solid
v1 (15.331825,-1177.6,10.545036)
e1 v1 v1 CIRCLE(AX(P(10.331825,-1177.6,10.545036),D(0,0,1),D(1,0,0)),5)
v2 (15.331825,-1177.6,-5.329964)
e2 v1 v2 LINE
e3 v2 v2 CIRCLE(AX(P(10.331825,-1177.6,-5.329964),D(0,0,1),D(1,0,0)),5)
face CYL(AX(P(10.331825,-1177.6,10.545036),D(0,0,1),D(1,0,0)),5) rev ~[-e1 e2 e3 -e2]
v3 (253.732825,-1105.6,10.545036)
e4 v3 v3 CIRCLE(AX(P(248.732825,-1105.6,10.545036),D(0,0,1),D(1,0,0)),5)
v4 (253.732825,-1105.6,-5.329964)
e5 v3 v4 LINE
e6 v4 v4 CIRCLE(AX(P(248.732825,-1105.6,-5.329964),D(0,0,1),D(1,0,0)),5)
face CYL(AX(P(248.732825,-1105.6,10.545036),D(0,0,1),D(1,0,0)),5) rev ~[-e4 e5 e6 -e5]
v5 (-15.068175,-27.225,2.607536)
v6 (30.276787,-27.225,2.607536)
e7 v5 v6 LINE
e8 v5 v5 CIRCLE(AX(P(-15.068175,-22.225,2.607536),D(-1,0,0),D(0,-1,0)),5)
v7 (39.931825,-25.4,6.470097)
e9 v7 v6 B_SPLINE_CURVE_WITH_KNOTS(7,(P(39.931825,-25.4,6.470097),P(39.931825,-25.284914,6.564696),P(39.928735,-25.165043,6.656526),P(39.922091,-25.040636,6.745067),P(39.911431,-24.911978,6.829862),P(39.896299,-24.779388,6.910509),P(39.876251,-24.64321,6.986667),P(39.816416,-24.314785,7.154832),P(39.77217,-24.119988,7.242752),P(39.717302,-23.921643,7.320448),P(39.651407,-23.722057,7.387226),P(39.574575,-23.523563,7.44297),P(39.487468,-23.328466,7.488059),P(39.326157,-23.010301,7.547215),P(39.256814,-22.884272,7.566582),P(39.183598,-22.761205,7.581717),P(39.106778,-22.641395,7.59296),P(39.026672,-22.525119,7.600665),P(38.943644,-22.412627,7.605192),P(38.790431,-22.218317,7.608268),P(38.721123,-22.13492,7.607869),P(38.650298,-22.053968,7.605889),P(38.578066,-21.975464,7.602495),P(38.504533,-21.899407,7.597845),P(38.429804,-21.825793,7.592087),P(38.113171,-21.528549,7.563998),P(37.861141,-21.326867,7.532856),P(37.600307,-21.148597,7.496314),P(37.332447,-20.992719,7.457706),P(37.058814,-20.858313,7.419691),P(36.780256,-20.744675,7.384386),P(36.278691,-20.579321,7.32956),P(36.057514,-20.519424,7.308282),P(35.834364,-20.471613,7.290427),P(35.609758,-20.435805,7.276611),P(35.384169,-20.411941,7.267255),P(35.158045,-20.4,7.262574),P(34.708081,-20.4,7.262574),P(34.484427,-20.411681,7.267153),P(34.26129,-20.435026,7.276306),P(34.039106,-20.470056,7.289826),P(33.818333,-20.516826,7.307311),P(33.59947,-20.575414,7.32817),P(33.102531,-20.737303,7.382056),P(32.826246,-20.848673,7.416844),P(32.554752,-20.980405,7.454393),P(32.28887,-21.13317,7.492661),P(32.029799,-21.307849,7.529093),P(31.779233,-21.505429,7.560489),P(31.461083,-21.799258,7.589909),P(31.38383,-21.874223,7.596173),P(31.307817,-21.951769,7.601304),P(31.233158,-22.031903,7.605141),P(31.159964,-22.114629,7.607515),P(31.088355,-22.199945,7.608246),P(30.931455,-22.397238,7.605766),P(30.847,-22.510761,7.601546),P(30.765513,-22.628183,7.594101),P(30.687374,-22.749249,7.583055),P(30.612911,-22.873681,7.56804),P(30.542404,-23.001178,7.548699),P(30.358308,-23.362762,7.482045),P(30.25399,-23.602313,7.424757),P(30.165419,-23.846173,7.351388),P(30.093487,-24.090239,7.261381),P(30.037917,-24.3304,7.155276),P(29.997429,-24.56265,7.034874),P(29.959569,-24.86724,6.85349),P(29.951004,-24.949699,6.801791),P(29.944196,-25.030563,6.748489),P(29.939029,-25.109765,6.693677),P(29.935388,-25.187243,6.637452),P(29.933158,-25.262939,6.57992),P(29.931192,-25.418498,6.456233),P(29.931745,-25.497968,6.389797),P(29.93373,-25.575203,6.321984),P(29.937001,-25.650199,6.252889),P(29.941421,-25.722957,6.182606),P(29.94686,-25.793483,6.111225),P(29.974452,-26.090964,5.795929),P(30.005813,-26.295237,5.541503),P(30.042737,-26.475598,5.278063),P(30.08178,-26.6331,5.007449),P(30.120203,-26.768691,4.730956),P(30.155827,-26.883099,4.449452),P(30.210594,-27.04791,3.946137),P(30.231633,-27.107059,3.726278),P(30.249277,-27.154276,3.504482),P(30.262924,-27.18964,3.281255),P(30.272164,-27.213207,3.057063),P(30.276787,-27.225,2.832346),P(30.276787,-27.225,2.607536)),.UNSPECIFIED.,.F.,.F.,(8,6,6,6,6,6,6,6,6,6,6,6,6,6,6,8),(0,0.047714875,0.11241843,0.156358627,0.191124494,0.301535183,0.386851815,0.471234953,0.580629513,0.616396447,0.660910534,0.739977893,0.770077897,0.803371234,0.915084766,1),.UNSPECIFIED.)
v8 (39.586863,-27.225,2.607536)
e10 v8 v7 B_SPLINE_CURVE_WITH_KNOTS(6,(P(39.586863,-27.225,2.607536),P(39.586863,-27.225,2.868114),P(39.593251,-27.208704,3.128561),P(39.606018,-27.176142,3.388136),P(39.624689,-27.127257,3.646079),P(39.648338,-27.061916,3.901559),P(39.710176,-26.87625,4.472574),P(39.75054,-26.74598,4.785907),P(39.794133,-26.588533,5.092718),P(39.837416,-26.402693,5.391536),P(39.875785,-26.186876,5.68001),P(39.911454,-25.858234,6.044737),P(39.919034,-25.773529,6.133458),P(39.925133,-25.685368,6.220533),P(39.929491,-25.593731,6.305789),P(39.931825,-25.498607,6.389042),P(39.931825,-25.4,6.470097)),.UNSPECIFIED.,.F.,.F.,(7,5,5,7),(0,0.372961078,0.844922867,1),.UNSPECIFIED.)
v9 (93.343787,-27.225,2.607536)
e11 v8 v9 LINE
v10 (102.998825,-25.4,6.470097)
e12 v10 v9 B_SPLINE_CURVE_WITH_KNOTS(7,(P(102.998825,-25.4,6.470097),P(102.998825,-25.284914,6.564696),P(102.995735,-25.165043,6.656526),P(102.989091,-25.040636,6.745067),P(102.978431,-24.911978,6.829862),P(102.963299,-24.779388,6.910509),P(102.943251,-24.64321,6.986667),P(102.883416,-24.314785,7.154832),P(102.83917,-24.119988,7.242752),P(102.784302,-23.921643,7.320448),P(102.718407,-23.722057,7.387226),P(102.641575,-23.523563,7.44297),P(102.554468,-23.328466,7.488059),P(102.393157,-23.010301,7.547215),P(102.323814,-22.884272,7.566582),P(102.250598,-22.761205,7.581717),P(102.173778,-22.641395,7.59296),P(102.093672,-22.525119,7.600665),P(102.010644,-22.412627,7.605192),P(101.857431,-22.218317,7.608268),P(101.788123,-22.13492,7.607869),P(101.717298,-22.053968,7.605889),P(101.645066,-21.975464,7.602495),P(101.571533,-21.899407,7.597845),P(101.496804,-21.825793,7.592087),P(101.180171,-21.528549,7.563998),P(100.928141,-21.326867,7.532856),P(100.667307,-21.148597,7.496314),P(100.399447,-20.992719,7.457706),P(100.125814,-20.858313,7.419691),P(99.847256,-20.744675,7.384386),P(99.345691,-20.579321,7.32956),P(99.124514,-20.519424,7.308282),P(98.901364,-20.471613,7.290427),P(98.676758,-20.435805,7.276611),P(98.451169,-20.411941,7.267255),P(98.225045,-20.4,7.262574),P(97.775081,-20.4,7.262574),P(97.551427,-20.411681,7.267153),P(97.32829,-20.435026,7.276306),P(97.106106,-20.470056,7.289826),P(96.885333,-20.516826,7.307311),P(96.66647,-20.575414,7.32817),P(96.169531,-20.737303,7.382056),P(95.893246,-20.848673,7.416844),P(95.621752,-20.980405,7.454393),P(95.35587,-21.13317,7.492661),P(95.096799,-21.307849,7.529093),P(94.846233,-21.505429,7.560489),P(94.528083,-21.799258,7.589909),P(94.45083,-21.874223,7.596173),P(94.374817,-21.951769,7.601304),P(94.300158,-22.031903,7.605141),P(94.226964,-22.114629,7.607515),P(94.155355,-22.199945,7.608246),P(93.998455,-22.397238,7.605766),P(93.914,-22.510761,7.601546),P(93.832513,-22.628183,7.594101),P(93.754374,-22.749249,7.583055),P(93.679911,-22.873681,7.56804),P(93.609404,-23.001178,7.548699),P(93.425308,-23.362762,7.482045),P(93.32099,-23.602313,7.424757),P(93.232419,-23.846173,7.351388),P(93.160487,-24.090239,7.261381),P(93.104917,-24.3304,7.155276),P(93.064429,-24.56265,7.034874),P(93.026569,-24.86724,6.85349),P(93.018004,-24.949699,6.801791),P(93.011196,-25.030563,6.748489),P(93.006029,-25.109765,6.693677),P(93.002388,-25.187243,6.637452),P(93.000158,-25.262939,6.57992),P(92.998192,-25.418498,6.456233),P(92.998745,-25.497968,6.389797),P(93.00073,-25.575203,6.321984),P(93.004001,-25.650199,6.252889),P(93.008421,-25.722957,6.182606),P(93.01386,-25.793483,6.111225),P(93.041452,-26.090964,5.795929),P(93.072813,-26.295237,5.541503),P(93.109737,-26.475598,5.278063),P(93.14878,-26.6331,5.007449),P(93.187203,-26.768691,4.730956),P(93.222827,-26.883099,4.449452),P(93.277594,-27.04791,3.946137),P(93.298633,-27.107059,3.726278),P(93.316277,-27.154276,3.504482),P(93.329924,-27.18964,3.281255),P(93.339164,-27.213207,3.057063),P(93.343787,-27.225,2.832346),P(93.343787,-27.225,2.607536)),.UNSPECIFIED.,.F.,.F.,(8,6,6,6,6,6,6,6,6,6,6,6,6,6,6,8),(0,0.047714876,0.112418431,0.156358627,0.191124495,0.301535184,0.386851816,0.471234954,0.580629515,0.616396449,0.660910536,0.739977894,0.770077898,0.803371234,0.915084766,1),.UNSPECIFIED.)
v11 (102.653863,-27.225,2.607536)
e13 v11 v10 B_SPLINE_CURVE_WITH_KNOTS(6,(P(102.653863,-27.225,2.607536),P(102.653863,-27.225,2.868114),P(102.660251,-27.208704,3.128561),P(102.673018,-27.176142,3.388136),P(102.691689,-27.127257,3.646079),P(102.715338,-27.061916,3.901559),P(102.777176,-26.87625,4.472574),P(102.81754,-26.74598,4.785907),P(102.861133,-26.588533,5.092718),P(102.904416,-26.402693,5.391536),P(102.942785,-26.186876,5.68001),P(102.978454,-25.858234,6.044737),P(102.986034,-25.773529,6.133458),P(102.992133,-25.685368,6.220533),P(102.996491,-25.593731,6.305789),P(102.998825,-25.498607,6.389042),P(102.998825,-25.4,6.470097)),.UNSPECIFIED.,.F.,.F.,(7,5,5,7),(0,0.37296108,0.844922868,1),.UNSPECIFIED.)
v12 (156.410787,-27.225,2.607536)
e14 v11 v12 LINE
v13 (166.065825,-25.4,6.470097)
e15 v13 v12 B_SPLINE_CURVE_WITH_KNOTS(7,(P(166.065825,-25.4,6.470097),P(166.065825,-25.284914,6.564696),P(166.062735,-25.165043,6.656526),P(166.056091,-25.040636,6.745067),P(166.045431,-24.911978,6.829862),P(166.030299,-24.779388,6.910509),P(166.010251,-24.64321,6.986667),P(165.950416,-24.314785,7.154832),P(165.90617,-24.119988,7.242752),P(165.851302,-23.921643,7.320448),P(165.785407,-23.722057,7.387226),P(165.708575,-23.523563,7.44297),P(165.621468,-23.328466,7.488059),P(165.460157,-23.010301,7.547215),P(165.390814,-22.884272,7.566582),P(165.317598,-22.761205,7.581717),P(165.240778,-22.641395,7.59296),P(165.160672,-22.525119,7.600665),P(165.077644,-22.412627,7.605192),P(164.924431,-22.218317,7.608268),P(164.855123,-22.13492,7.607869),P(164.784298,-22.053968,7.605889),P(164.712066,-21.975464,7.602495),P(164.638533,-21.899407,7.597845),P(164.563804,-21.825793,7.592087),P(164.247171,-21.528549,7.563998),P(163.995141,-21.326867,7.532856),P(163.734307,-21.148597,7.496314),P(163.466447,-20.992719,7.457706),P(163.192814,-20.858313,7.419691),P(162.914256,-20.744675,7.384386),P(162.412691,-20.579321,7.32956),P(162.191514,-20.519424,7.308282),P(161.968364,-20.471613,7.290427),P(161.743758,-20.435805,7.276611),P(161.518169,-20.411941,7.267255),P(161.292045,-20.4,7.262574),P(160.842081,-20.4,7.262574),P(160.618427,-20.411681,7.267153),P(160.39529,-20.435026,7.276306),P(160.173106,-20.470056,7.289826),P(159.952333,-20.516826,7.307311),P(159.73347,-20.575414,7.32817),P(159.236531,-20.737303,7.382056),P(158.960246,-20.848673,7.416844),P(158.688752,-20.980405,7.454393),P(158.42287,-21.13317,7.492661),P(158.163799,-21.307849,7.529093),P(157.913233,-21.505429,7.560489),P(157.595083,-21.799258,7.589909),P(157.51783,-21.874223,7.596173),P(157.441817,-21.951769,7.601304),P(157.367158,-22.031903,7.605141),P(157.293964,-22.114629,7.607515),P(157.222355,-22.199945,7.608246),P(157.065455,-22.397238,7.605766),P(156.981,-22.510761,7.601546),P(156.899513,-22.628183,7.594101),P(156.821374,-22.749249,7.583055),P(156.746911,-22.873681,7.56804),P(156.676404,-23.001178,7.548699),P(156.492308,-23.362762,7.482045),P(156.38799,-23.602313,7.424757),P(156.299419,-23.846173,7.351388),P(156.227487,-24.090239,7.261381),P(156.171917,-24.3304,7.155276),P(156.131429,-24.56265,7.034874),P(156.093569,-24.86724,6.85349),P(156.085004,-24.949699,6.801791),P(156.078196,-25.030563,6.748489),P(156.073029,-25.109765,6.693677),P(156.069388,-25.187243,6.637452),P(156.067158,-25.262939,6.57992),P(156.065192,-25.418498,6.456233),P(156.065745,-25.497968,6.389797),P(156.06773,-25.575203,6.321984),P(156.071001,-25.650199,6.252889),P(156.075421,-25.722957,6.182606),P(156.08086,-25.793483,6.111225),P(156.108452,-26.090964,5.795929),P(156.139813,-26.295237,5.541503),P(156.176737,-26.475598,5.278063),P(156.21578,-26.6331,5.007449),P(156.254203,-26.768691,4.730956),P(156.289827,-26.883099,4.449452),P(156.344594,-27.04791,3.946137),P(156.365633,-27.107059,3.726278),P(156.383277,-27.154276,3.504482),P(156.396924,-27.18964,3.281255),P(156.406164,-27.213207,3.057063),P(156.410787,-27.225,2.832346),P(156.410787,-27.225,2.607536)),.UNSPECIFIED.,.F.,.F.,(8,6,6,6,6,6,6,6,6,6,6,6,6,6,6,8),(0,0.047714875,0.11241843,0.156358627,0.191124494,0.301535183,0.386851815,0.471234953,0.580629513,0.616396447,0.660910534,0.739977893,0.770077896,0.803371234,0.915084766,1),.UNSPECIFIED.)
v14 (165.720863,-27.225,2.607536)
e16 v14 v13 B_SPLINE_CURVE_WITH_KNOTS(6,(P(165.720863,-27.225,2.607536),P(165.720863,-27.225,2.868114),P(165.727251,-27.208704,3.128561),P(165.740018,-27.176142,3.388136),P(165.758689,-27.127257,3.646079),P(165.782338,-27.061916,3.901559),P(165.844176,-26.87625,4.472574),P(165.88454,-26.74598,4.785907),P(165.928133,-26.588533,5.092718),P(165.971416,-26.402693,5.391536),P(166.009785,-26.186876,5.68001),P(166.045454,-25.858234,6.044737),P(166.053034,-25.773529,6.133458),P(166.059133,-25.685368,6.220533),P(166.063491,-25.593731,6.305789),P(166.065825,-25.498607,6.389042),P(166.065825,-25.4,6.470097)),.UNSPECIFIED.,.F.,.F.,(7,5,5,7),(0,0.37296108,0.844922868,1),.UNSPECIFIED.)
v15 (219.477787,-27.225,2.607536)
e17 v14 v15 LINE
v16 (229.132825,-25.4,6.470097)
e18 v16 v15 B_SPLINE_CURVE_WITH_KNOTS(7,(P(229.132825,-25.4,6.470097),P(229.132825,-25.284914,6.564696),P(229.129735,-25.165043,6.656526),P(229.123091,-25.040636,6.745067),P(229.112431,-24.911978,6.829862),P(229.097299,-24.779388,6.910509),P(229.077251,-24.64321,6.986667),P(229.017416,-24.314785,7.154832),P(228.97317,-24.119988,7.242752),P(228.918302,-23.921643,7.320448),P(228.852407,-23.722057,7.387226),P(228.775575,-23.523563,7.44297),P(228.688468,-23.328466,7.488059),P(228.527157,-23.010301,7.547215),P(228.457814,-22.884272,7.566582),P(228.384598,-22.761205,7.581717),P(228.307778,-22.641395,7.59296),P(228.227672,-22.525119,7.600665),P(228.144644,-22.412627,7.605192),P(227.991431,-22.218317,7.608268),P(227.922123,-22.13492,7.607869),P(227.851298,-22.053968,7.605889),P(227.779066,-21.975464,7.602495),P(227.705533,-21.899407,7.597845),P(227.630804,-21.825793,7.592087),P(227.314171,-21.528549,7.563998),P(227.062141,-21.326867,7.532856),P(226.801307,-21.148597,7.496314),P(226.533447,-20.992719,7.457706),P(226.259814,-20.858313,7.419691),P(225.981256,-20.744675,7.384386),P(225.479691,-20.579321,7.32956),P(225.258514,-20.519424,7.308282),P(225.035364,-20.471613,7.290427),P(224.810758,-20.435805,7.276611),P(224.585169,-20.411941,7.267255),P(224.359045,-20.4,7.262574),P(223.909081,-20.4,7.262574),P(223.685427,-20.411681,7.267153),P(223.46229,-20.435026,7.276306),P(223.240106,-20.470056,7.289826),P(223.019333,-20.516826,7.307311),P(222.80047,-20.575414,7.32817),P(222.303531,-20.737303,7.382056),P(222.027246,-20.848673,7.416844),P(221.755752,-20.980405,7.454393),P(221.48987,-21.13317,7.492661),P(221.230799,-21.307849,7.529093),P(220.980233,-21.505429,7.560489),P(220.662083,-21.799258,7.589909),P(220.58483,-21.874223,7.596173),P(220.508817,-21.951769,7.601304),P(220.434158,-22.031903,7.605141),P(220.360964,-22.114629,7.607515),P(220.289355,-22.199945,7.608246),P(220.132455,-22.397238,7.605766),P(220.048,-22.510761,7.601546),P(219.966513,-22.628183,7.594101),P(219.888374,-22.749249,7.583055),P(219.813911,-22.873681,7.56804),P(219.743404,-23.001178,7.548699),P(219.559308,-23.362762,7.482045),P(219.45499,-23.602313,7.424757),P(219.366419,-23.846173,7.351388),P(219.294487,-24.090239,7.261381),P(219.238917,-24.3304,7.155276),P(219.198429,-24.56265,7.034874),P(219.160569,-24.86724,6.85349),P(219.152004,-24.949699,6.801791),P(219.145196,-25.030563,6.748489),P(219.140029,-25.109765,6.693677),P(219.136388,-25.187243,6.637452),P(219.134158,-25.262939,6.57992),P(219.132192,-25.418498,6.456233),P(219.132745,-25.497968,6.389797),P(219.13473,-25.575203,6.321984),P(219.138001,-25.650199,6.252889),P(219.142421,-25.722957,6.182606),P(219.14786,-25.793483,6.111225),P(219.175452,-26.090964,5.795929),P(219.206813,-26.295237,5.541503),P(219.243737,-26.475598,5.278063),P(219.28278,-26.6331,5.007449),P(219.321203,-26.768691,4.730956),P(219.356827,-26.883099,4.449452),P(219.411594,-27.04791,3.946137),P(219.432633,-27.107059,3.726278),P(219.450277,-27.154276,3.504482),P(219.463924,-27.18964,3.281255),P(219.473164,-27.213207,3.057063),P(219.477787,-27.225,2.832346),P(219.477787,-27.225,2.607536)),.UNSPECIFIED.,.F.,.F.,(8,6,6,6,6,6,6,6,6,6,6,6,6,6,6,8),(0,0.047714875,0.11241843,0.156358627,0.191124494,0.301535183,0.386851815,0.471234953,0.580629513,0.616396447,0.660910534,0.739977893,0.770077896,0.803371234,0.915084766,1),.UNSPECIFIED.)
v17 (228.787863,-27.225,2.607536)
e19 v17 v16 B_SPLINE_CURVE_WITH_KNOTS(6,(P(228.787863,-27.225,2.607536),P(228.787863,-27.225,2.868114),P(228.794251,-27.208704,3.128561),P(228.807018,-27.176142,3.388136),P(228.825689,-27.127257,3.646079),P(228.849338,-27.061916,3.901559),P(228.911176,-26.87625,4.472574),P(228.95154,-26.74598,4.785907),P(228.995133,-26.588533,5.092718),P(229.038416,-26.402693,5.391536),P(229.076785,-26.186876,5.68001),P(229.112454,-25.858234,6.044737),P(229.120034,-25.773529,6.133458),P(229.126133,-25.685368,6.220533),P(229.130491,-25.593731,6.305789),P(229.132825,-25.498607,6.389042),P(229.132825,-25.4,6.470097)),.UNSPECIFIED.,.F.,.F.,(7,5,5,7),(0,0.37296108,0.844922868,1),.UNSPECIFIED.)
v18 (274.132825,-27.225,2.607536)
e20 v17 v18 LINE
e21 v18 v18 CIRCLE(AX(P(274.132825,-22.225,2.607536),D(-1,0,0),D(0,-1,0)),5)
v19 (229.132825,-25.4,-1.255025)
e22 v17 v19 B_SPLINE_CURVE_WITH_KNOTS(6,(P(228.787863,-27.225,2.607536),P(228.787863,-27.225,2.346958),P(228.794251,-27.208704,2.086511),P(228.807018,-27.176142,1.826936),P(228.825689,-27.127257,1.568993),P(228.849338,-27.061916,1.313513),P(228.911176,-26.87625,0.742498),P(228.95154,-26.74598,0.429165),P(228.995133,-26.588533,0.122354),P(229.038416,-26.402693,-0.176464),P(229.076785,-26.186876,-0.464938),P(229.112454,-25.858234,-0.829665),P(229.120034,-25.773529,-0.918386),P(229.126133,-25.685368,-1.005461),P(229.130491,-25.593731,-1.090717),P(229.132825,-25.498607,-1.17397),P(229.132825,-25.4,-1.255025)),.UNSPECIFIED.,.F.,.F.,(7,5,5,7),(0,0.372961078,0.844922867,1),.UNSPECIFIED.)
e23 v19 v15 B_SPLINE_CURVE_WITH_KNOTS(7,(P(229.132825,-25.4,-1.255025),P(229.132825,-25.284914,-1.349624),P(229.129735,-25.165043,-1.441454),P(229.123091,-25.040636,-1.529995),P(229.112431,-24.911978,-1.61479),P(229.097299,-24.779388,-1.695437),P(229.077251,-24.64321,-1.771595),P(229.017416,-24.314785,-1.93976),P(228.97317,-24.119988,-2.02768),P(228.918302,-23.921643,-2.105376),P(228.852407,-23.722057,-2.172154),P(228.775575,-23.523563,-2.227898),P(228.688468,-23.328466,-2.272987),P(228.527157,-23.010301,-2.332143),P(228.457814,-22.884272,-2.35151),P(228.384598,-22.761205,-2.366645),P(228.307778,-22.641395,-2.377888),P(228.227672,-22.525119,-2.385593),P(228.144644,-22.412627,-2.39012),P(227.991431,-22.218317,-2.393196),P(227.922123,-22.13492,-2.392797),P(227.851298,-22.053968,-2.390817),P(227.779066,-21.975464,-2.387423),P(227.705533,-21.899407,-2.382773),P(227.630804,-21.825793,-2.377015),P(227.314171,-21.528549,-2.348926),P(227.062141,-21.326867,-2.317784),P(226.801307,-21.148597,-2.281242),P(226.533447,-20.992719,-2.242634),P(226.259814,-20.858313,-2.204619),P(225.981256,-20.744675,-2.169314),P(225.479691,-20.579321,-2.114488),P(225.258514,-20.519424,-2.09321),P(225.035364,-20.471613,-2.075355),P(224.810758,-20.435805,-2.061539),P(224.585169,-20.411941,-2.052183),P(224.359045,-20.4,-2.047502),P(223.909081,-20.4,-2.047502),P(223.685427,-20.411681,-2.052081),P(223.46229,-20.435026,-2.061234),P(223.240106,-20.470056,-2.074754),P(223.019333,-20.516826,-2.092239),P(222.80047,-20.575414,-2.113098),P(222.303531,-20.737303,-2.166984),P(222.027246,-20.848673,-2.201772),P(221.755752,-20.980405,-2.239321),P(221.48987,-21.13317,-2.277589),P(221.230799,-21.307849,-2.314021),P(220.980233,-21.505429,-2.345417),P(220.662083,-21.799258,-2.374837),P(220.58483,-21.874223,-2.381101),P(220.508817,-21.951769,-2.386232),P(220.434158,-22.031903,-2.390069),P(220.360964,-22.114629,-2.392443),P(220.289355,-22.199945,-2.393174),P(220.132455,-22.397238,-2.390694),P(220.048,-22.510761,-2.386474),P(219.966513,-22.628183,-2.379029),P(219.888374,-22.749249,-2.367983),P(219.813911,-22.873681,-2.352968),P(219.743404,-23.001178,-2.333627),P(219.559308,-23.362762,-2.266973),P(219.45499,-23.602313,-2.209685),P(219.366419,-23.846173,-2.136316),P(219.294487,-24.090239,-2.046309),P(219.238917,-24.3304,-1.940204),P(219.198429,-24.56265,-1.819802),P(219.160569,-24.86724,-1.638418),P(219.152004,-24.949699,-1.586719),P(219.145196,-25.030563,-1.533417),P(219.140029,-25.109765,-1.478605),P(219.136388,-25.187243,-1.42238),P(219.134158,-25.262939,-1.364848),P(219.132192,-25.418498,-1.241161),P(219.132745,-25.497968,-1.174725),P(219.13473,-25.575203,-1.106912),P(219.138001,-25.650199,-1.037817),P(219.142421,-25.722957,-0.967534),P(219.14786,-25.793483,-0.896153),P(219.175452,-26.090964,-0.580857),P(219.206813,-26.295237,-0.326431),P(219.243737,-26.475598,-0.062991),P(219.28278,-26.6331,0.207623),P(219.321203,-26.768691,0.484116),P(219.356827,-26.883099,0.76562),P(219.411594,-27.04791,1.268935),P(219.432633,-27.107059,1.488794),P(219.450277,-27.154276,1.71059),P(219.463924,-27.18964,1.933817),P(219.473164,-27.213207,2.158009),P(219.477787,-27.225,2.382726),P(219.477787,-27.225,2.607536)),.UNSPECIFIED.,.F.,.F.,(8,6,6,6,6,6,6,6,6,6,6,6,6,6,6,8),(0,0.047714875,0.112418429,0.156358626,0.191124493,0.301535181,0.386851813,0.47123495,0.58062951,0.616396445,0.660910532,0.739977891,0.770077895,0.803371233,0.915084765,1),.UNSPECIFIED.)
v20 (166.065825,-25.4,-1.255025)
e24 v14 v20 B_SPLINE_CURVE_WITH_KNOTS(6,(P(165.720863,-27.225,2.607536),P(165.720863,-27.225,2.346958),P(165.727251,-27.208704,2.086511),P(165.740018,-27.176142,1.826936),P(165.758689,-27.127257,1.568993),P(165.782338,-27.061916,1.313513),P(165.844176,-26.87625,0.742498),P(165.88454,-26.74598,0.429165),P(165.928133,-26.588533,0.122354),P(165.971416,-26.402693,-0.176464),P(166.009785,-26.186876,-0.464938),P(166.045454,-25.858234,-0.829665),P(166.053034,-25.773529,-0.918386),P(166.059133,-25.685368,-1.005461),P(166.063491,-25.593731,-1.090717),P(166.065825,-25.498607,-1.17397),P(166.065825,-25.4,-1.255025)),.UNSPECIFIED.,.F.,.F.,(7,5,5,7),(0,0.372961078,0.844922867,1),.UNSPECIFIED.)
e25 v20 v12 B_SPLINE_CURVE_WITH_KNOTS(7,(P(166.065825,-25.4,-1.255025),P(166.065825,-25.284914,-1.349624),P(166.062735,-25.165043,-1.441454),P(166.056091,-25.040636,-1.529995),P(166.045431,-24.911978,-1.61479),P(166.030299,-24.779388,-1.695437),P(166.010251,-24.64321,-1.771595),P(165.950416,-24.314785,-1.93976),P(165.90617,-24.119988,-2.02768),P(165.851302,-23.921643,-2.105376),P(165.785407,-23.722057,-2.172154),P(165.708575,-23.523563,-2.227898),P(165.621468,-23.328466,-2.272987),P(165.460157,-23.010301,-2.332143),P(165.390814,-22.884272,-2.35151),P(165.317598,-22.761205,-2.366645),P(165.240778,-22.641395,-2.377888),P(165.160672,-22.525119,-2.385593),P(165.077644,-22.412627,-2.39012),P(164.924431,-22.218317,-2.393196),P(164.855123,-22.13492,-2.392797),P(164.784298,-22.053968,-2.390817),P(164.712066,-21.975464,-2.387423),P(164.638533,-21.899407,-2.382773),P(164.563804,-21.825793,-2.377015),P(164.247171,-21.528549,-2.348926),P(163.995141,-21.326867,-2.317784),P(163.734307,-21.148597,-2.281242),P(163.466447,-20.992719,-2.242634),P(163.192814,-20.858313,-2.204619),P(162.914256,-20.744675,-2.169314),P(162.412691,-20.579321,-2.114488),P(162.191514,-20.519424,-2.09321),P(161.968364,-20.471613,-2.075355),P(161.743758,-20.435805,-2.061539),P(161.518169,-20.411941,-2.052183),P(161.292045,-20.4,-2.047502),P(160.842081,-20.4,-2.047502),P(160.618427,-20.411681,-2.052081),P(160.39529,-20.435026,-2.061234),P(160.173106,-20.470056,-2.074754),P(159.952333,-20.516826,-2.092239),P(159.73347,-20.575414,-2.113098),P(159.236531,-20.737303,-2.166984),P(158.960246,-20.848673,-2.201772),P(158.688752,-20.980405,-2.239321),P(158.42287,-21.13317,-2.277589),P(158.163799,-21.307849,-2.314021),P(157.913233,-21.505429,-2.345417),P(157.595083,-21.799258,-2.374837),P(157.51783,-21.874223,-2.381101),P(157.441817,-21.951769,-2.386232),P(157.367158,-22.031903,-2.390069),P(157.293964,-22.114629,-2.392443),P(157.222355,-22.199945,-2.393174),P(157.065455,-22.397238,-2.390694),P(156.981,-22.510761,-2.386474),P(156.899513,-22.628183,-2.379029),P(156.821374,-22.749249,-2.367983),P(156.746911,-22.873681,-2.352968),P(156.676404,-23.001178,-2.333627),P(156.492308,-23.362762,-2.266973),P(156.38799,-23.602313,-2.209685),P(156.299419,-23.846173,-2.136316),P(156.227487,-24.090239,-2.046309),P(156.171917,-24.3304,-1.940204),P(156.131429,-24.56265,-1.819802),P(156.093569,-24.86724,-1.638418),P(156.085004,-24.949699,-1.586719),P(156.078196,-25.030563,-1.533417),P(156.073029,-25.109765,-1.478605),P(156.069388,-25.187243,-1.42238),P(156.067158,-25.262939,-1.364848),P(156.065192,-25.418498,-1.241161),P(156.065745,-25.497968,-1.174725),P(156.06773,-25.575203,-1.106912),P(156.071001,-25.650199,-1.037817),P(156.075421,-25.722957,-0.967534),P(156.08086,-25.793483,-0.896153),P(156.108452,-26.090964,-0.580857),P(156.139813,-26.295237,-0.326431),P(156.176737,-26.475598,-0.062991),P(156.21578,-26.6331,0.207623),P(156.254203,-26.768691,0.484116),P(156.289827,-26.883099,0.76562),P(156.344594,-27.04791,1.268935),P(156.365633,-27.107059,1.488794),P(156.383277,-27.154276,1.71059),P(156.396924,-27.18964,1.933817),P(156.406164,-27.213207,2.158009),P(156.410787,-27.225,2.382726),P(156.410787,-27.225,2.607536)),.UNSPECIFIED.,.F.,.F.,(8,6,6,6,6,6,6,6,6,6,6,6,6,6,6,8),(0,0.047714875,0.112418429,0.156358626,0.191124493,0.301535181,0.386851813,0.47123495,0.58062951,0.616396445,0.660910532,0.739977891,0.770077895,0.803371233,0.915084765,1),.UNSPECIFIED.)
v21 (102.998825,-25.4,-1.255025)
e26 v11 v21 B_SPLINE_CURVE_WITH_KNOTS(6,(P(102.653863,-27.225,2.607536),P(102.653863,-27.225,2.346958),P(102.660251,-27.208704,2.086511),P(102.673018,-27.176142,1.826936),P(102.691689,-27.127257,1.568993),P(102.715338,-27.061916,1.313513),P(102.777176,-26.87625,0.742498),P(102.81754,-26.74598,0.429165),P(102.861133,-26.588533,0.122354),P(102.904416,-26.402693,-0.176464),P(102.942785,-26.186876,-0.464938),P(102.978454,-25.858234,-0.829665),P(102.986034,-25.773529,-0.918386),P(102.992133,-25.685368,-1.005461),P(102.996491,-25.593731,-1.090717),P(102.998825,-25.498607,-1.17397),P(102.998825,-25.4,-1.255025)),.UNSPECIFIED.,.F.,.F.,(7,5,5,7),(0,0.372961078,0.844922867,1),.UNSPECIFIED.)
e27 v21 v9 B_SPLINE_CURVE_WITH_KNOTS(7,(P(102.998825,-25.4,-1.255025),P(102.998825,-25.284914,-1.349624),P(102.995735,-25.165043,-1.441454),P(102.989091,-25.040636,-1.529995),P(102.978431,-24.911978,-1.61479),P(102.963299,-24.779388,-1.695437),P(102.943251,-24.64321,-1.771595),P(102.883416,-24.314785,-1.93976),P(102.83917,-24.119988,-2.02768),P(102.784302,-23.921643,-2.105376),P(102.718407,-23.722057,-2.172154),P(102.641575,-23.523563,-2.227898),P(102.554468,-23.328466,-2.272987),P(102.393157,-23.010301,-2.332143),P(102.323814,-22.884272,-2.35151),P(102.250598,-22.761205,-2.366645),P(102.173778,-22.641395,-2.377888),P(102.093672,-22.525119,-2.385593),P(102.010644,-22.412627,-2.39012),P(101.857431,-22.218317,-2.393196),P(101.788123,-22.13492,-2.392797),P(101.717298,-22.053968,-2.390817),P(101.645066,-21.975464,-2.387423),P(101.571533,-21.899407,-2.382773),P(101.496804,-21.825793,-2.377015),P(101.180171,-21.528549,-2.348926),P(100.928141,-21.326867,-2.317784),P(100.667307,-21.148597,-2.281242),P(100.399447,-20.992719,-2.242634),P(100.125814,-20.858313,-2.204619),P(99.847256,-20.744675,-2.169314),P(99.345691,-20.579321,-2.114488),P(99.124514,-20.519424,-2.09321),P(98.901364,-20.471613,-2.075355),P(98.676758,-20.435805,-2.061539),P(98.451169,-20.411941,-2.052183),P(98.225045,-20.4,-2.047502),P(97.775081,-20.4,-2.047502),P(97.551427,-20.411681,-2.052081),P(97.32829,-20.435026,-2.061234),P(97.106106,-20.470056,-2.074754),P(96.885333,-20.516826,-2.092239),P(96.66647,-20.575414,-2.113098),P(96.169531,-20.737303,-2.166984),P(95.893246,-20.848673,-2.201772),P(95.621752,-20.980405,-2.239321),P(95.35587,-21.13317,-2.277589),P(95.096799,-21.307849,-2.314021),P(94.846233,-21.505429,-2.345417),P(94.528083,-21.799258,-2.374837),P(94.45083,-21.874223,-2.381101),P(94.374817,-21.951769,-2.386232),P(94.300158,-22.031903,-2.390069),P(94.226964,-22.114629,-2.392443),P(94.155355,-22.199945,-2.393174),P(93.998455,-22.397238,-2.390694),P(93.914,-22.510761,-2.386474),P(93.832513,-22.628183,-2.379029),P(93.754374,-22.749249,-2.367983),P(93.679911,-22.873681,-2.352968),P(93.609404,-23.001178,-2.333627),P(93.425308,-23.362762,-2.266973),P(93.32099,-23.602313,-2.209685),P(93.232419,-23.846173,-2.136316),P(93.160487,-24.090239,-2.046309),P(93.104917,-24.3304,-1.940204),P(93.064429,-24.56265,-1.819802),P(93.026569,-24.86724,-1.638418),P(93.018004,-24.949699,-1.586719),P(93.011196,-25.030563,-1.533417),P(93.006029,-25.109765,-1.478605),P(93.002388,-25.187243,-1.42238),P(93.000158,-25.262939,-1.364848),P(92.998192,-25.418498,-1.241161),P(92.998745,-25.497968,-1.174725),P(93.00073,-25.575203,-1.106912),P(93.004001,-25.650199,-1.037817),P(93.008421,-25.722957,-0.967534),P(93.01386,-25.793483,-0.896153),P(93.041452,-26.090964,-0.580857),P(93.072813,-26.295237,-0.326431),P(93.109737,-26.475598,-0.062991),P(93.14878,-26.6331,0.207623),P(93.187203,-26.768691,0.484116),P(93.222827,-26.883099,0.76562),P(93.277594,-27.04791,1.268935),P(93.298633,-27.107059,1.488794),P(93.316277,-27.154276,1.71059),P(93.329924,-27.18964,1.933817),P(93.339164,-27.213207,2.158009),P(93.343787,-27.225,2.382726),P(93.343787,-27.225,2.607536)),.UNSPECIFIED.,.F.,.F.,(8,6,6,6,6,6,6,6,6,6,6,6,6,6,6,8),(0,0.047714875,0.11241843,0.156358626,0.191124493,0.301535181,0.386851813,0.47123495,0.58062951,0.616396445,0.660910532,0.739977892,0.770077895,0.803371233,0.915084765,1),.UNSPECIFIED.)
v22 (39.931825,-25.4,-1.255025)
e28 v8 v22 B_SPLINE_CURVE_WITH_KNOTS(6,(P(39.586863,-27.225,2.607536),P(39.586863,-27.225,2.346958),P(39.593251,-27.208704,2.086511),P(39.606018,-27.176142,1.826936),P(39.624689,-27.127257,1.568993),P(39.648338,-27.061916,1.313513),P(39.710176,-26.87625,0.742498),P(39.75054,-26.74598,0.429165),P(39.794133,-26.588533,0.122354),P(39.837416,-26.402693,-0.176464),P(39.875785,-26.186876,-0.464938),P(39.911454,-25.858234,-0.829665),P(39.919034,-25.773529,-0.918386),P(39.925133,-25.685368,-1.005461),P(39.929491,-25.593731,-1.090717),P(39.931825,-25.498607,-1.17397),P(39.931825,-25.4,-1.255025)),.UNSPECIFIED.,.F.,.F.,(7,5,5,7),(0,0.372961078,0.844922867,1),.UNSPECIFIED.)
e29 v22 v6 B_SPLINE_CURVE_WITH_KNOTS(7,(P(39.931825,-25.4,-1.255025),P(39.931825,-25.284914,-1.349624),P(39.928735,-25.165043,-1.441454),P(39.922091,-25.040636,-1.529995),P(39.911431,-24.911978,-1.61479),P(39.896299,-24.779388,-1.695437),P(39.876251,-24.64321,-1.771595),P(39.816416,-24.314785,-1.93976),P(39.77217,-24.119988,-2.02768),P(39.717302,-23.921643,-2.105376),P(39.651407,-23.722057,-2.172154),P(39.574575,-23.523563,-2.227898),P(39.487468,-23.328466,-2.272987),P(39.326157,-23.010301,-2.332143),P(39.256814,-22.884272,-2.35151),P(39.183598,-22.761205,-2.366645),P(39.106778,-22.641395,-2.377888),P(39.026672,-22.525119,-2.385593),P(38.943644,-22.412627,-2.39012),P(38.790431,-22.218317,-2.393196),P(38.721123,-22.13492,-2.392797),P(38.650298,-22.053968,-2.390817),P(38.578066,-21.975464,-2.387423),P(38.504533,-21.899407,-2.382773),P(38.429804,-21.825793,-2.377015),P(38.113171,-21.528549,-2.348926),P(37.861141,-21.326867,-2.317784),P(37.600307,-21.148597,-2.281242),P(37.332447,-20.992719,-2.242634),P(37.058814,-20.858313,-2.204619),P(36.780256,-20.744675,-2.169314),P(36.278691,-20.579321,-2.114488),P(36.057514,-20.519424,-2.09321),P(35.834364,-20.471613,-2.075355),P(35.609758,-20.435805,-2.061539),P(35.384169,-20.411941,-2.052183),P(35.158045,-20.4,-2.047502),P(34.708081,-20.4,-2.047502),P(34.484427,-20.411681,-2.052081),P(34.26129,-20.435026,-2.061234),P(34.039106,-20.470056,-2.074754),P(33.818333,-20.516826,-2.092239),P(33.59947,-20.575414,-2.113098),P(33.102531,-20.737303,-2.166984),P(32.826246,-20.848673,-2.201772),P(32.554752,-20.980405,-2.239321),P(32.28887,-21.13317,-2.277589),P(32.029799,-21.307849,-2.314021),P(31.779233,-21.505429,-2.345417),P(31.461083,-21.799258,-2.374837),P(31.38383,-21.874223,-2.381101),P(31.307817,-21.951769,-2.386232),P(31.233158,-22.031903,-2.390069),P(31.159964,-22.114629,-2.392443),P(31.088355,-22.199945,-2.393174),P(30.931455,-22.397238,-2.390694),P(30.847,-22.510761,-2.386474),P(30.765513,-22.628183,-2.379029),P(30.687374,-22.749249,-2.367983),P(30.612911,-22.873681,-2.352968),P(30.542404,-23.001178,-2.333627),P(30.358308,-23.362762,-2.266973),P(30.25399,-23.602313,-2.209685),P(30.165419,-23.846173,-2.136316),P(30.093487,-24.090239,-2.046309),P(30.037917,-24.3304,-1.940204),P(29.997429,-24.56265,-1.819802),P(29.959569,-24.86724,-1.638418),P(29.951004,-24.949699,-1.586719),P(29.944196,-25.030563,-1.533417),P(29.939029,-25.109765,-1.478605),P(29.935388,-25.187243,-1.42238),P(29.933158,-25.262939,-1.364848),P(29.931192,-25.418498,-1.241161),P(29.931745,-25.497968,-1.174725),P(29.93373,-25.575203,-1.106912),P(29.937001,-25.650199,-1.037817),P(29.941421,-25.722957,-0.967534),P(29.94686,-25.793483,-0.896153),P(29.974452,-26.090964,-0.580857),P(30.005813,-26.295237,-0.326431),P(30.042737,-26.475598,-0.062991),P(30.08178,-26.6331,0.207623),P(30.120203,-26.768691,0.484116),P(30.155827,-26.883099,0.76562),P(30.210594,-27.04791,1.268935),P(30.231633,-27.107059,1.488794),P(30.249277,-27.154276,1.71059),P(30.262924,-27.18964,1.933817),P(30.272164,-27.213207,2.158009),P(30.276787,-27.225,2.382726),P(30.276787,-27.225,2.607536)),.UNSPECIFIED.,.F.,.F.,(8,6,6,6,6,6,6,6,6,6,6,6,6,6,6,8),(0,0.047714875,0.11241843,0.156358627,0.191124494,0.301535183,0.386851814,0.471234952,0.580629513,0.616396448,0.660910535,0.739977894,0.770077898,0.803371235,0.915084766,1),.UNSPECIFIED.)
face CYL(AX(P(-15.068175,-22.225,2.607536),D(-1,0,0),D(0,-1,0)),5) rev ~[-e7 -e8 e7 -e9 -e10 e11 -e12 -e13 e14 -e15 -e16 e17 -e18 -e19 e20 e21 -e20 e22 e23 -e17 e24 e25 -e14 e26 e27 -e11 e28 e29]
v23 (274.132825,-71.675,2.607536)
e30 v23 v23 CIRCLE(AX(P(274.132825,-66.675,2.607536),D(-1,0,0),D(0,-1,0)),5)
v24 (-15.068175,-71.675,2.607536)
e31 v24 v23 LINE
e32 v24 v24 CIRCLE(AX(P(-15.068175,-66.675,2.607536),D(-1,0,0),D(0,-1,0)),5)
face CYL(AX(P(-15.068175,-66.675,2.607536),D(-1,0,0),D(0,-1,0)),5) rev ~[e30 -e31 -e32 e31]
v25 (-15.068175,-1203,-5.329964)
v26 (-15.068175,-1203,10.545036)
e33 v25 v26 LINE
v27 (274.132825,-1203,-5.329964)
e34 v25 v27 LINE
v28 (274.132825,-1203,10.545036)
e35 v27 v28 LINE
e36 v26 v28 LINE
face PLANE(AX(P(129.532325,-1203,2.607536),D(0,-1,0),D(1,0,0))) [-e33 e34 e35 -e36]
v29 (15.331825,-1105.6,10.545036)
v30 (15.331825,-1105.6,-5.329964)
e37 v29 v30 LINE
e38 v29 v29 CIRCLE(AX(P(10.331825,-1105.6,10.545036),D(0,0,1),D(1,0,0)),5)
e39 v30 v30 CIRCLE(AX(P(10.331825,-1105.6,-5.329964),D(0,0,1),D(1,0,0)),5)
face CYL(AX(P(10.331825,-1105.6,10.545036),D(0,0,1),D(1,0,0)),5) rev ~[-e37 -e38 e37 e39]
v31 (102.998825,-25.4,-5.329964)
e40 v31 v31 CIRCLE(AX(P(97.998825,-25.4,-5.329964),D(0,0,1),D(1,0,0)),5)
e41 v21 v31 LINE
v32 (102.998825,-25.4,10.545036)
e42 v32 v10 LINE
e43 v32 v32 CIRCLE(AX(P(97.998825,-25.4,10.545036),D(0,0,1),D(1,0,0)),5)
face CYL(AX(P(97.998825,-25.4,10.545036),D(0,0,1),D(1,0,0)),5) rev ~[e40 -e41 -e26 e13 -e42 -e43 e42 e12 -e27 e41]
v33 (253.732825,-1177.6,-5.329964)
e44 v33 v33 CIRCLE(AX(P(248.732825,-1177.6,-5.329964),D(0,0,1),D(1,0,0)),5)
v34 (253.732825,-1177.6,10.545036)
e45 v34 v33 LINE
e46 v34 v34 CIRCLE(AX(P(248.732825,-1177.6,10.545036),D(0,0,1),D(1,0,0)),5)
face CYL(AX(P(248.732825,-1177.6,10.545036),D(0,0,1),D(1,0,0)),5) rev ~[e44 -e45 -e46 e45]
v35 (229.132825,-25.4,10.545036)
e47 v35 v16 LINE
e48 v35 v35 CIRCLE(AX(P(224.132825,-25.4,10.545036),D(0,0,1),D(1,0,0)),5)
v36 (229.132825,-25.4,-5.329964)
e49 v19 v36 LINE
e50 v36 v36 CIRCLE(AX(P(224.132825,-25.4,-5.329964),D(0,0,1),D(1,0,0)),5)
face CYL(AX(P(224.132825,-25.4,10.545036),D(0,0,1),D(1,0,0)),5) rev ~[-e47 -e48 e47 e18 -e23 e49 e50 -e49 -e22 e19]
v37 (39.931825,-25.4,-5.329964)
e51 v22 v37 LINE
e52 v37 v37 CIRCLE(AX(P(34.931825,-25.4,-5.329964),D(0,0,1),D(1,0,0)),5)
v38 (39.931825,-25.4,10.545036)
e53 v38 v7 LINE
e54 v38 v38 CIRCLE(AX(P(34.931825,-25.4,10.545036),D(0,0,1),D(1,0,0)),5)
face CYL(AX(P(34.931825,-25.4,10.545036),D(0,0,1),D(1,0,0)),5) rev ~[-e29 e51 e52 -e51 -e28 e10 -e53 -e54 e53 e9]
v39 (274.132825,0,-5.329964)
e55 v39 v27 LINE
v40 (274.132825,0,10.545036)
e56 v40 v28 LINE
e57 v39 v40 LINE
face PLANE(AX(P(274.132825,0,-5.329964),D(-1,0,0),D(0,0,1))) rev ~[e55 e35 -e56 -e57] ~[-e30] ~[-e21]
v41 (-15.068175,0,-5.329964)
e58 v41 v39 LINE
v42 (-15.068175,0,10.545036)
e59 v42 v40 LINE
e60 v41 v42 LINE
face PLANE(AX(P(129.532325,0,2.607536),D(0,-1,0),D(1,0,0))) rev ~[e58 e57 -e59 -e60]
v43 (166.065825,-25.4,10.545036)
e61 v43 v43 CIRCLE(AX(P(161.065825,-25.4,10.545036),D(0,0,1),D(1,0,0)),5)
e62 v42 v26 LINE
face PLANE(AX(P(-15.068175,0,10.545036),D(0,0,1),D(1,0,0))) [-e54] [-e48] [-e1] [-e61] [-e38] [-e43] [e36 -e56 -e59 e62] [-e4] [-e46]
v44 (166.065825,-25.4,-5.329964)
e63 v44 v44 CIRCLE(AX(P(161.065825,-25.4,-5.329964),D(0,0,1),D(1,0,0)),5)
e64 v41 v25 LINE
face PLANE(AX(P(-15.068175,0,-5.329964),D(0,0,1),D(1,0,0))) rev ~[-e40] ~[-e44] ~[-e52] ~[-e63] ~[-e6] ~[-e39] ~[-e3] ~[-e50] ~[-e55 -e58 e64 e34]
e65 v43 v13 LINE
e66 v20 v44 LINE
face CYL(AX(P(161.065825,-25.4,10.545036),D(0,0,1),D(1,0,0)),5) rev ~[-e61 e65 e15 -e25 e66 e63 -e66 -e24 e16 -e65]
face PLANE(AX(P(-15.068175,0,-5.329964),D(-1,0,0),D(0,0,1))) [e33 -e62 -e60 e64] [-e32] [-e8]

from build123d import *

# Parameters (mm, degrees)
F0_W     = 289.201
F0_H     = 15.875
F1_DEPTH = 1203
F2_R     = 5
F3_DEPTH = 15.876
F4_R     = 5
F5_DEPTH = 289.202


with BuildPart() as f1:
    # F0 (on Front) → F1 (new body)
    with BuildSketch(Plane.XZ):
        with Locations((129.532325, 2.607536)):
            Rectangle(F0_W, F0_H)
    extrude(amount=F1_DEPTH)

    # F2 (on face) → F3 (cut, through all)
    with BuildSketch(Plane.XY.offset(10.545036)):
        with Locations((10.331825, -1177.6)):
            Circle(F2_R)
        with Locations((10.331825, -1105.6)):
            Circle(F2_R)
        with Locations((248.732825, -1105.6)):
            Circle(F2_R)
        with Locations((248.732825, -1177.6)):
            Circle(F2_R)
        with Locations((34.931825, -25.4)):
            Circle(F2_R)
        with Locations((97.998825, -25.4)):
            Circle(F2_R)
        with Locations((161.065825, -25.4)):
            Circle(F2_R)
        with Locations((224.132825, -25.4)):
            Circle(F2_R)
    extrude(amount=-F3_DEPTH, mode=Mode.SUBTRACT)

    # F4 (on face) → F5 (cut, through all)
    with BuildSketch(Plane(origin=(-15.068175, 0, 0), x_dir=(0, -1, 0), z_dir=(-1, 0, 0))):
        with Locations((22.225, 2.607536)):
            Circle(F4_R)
        with Locations((66.675, 2.607536)):
            Circle(F4_R)
    extrude(amount=-F5_DEPTH, mode=Mode.SUBTRACT)


solid = f1.part
